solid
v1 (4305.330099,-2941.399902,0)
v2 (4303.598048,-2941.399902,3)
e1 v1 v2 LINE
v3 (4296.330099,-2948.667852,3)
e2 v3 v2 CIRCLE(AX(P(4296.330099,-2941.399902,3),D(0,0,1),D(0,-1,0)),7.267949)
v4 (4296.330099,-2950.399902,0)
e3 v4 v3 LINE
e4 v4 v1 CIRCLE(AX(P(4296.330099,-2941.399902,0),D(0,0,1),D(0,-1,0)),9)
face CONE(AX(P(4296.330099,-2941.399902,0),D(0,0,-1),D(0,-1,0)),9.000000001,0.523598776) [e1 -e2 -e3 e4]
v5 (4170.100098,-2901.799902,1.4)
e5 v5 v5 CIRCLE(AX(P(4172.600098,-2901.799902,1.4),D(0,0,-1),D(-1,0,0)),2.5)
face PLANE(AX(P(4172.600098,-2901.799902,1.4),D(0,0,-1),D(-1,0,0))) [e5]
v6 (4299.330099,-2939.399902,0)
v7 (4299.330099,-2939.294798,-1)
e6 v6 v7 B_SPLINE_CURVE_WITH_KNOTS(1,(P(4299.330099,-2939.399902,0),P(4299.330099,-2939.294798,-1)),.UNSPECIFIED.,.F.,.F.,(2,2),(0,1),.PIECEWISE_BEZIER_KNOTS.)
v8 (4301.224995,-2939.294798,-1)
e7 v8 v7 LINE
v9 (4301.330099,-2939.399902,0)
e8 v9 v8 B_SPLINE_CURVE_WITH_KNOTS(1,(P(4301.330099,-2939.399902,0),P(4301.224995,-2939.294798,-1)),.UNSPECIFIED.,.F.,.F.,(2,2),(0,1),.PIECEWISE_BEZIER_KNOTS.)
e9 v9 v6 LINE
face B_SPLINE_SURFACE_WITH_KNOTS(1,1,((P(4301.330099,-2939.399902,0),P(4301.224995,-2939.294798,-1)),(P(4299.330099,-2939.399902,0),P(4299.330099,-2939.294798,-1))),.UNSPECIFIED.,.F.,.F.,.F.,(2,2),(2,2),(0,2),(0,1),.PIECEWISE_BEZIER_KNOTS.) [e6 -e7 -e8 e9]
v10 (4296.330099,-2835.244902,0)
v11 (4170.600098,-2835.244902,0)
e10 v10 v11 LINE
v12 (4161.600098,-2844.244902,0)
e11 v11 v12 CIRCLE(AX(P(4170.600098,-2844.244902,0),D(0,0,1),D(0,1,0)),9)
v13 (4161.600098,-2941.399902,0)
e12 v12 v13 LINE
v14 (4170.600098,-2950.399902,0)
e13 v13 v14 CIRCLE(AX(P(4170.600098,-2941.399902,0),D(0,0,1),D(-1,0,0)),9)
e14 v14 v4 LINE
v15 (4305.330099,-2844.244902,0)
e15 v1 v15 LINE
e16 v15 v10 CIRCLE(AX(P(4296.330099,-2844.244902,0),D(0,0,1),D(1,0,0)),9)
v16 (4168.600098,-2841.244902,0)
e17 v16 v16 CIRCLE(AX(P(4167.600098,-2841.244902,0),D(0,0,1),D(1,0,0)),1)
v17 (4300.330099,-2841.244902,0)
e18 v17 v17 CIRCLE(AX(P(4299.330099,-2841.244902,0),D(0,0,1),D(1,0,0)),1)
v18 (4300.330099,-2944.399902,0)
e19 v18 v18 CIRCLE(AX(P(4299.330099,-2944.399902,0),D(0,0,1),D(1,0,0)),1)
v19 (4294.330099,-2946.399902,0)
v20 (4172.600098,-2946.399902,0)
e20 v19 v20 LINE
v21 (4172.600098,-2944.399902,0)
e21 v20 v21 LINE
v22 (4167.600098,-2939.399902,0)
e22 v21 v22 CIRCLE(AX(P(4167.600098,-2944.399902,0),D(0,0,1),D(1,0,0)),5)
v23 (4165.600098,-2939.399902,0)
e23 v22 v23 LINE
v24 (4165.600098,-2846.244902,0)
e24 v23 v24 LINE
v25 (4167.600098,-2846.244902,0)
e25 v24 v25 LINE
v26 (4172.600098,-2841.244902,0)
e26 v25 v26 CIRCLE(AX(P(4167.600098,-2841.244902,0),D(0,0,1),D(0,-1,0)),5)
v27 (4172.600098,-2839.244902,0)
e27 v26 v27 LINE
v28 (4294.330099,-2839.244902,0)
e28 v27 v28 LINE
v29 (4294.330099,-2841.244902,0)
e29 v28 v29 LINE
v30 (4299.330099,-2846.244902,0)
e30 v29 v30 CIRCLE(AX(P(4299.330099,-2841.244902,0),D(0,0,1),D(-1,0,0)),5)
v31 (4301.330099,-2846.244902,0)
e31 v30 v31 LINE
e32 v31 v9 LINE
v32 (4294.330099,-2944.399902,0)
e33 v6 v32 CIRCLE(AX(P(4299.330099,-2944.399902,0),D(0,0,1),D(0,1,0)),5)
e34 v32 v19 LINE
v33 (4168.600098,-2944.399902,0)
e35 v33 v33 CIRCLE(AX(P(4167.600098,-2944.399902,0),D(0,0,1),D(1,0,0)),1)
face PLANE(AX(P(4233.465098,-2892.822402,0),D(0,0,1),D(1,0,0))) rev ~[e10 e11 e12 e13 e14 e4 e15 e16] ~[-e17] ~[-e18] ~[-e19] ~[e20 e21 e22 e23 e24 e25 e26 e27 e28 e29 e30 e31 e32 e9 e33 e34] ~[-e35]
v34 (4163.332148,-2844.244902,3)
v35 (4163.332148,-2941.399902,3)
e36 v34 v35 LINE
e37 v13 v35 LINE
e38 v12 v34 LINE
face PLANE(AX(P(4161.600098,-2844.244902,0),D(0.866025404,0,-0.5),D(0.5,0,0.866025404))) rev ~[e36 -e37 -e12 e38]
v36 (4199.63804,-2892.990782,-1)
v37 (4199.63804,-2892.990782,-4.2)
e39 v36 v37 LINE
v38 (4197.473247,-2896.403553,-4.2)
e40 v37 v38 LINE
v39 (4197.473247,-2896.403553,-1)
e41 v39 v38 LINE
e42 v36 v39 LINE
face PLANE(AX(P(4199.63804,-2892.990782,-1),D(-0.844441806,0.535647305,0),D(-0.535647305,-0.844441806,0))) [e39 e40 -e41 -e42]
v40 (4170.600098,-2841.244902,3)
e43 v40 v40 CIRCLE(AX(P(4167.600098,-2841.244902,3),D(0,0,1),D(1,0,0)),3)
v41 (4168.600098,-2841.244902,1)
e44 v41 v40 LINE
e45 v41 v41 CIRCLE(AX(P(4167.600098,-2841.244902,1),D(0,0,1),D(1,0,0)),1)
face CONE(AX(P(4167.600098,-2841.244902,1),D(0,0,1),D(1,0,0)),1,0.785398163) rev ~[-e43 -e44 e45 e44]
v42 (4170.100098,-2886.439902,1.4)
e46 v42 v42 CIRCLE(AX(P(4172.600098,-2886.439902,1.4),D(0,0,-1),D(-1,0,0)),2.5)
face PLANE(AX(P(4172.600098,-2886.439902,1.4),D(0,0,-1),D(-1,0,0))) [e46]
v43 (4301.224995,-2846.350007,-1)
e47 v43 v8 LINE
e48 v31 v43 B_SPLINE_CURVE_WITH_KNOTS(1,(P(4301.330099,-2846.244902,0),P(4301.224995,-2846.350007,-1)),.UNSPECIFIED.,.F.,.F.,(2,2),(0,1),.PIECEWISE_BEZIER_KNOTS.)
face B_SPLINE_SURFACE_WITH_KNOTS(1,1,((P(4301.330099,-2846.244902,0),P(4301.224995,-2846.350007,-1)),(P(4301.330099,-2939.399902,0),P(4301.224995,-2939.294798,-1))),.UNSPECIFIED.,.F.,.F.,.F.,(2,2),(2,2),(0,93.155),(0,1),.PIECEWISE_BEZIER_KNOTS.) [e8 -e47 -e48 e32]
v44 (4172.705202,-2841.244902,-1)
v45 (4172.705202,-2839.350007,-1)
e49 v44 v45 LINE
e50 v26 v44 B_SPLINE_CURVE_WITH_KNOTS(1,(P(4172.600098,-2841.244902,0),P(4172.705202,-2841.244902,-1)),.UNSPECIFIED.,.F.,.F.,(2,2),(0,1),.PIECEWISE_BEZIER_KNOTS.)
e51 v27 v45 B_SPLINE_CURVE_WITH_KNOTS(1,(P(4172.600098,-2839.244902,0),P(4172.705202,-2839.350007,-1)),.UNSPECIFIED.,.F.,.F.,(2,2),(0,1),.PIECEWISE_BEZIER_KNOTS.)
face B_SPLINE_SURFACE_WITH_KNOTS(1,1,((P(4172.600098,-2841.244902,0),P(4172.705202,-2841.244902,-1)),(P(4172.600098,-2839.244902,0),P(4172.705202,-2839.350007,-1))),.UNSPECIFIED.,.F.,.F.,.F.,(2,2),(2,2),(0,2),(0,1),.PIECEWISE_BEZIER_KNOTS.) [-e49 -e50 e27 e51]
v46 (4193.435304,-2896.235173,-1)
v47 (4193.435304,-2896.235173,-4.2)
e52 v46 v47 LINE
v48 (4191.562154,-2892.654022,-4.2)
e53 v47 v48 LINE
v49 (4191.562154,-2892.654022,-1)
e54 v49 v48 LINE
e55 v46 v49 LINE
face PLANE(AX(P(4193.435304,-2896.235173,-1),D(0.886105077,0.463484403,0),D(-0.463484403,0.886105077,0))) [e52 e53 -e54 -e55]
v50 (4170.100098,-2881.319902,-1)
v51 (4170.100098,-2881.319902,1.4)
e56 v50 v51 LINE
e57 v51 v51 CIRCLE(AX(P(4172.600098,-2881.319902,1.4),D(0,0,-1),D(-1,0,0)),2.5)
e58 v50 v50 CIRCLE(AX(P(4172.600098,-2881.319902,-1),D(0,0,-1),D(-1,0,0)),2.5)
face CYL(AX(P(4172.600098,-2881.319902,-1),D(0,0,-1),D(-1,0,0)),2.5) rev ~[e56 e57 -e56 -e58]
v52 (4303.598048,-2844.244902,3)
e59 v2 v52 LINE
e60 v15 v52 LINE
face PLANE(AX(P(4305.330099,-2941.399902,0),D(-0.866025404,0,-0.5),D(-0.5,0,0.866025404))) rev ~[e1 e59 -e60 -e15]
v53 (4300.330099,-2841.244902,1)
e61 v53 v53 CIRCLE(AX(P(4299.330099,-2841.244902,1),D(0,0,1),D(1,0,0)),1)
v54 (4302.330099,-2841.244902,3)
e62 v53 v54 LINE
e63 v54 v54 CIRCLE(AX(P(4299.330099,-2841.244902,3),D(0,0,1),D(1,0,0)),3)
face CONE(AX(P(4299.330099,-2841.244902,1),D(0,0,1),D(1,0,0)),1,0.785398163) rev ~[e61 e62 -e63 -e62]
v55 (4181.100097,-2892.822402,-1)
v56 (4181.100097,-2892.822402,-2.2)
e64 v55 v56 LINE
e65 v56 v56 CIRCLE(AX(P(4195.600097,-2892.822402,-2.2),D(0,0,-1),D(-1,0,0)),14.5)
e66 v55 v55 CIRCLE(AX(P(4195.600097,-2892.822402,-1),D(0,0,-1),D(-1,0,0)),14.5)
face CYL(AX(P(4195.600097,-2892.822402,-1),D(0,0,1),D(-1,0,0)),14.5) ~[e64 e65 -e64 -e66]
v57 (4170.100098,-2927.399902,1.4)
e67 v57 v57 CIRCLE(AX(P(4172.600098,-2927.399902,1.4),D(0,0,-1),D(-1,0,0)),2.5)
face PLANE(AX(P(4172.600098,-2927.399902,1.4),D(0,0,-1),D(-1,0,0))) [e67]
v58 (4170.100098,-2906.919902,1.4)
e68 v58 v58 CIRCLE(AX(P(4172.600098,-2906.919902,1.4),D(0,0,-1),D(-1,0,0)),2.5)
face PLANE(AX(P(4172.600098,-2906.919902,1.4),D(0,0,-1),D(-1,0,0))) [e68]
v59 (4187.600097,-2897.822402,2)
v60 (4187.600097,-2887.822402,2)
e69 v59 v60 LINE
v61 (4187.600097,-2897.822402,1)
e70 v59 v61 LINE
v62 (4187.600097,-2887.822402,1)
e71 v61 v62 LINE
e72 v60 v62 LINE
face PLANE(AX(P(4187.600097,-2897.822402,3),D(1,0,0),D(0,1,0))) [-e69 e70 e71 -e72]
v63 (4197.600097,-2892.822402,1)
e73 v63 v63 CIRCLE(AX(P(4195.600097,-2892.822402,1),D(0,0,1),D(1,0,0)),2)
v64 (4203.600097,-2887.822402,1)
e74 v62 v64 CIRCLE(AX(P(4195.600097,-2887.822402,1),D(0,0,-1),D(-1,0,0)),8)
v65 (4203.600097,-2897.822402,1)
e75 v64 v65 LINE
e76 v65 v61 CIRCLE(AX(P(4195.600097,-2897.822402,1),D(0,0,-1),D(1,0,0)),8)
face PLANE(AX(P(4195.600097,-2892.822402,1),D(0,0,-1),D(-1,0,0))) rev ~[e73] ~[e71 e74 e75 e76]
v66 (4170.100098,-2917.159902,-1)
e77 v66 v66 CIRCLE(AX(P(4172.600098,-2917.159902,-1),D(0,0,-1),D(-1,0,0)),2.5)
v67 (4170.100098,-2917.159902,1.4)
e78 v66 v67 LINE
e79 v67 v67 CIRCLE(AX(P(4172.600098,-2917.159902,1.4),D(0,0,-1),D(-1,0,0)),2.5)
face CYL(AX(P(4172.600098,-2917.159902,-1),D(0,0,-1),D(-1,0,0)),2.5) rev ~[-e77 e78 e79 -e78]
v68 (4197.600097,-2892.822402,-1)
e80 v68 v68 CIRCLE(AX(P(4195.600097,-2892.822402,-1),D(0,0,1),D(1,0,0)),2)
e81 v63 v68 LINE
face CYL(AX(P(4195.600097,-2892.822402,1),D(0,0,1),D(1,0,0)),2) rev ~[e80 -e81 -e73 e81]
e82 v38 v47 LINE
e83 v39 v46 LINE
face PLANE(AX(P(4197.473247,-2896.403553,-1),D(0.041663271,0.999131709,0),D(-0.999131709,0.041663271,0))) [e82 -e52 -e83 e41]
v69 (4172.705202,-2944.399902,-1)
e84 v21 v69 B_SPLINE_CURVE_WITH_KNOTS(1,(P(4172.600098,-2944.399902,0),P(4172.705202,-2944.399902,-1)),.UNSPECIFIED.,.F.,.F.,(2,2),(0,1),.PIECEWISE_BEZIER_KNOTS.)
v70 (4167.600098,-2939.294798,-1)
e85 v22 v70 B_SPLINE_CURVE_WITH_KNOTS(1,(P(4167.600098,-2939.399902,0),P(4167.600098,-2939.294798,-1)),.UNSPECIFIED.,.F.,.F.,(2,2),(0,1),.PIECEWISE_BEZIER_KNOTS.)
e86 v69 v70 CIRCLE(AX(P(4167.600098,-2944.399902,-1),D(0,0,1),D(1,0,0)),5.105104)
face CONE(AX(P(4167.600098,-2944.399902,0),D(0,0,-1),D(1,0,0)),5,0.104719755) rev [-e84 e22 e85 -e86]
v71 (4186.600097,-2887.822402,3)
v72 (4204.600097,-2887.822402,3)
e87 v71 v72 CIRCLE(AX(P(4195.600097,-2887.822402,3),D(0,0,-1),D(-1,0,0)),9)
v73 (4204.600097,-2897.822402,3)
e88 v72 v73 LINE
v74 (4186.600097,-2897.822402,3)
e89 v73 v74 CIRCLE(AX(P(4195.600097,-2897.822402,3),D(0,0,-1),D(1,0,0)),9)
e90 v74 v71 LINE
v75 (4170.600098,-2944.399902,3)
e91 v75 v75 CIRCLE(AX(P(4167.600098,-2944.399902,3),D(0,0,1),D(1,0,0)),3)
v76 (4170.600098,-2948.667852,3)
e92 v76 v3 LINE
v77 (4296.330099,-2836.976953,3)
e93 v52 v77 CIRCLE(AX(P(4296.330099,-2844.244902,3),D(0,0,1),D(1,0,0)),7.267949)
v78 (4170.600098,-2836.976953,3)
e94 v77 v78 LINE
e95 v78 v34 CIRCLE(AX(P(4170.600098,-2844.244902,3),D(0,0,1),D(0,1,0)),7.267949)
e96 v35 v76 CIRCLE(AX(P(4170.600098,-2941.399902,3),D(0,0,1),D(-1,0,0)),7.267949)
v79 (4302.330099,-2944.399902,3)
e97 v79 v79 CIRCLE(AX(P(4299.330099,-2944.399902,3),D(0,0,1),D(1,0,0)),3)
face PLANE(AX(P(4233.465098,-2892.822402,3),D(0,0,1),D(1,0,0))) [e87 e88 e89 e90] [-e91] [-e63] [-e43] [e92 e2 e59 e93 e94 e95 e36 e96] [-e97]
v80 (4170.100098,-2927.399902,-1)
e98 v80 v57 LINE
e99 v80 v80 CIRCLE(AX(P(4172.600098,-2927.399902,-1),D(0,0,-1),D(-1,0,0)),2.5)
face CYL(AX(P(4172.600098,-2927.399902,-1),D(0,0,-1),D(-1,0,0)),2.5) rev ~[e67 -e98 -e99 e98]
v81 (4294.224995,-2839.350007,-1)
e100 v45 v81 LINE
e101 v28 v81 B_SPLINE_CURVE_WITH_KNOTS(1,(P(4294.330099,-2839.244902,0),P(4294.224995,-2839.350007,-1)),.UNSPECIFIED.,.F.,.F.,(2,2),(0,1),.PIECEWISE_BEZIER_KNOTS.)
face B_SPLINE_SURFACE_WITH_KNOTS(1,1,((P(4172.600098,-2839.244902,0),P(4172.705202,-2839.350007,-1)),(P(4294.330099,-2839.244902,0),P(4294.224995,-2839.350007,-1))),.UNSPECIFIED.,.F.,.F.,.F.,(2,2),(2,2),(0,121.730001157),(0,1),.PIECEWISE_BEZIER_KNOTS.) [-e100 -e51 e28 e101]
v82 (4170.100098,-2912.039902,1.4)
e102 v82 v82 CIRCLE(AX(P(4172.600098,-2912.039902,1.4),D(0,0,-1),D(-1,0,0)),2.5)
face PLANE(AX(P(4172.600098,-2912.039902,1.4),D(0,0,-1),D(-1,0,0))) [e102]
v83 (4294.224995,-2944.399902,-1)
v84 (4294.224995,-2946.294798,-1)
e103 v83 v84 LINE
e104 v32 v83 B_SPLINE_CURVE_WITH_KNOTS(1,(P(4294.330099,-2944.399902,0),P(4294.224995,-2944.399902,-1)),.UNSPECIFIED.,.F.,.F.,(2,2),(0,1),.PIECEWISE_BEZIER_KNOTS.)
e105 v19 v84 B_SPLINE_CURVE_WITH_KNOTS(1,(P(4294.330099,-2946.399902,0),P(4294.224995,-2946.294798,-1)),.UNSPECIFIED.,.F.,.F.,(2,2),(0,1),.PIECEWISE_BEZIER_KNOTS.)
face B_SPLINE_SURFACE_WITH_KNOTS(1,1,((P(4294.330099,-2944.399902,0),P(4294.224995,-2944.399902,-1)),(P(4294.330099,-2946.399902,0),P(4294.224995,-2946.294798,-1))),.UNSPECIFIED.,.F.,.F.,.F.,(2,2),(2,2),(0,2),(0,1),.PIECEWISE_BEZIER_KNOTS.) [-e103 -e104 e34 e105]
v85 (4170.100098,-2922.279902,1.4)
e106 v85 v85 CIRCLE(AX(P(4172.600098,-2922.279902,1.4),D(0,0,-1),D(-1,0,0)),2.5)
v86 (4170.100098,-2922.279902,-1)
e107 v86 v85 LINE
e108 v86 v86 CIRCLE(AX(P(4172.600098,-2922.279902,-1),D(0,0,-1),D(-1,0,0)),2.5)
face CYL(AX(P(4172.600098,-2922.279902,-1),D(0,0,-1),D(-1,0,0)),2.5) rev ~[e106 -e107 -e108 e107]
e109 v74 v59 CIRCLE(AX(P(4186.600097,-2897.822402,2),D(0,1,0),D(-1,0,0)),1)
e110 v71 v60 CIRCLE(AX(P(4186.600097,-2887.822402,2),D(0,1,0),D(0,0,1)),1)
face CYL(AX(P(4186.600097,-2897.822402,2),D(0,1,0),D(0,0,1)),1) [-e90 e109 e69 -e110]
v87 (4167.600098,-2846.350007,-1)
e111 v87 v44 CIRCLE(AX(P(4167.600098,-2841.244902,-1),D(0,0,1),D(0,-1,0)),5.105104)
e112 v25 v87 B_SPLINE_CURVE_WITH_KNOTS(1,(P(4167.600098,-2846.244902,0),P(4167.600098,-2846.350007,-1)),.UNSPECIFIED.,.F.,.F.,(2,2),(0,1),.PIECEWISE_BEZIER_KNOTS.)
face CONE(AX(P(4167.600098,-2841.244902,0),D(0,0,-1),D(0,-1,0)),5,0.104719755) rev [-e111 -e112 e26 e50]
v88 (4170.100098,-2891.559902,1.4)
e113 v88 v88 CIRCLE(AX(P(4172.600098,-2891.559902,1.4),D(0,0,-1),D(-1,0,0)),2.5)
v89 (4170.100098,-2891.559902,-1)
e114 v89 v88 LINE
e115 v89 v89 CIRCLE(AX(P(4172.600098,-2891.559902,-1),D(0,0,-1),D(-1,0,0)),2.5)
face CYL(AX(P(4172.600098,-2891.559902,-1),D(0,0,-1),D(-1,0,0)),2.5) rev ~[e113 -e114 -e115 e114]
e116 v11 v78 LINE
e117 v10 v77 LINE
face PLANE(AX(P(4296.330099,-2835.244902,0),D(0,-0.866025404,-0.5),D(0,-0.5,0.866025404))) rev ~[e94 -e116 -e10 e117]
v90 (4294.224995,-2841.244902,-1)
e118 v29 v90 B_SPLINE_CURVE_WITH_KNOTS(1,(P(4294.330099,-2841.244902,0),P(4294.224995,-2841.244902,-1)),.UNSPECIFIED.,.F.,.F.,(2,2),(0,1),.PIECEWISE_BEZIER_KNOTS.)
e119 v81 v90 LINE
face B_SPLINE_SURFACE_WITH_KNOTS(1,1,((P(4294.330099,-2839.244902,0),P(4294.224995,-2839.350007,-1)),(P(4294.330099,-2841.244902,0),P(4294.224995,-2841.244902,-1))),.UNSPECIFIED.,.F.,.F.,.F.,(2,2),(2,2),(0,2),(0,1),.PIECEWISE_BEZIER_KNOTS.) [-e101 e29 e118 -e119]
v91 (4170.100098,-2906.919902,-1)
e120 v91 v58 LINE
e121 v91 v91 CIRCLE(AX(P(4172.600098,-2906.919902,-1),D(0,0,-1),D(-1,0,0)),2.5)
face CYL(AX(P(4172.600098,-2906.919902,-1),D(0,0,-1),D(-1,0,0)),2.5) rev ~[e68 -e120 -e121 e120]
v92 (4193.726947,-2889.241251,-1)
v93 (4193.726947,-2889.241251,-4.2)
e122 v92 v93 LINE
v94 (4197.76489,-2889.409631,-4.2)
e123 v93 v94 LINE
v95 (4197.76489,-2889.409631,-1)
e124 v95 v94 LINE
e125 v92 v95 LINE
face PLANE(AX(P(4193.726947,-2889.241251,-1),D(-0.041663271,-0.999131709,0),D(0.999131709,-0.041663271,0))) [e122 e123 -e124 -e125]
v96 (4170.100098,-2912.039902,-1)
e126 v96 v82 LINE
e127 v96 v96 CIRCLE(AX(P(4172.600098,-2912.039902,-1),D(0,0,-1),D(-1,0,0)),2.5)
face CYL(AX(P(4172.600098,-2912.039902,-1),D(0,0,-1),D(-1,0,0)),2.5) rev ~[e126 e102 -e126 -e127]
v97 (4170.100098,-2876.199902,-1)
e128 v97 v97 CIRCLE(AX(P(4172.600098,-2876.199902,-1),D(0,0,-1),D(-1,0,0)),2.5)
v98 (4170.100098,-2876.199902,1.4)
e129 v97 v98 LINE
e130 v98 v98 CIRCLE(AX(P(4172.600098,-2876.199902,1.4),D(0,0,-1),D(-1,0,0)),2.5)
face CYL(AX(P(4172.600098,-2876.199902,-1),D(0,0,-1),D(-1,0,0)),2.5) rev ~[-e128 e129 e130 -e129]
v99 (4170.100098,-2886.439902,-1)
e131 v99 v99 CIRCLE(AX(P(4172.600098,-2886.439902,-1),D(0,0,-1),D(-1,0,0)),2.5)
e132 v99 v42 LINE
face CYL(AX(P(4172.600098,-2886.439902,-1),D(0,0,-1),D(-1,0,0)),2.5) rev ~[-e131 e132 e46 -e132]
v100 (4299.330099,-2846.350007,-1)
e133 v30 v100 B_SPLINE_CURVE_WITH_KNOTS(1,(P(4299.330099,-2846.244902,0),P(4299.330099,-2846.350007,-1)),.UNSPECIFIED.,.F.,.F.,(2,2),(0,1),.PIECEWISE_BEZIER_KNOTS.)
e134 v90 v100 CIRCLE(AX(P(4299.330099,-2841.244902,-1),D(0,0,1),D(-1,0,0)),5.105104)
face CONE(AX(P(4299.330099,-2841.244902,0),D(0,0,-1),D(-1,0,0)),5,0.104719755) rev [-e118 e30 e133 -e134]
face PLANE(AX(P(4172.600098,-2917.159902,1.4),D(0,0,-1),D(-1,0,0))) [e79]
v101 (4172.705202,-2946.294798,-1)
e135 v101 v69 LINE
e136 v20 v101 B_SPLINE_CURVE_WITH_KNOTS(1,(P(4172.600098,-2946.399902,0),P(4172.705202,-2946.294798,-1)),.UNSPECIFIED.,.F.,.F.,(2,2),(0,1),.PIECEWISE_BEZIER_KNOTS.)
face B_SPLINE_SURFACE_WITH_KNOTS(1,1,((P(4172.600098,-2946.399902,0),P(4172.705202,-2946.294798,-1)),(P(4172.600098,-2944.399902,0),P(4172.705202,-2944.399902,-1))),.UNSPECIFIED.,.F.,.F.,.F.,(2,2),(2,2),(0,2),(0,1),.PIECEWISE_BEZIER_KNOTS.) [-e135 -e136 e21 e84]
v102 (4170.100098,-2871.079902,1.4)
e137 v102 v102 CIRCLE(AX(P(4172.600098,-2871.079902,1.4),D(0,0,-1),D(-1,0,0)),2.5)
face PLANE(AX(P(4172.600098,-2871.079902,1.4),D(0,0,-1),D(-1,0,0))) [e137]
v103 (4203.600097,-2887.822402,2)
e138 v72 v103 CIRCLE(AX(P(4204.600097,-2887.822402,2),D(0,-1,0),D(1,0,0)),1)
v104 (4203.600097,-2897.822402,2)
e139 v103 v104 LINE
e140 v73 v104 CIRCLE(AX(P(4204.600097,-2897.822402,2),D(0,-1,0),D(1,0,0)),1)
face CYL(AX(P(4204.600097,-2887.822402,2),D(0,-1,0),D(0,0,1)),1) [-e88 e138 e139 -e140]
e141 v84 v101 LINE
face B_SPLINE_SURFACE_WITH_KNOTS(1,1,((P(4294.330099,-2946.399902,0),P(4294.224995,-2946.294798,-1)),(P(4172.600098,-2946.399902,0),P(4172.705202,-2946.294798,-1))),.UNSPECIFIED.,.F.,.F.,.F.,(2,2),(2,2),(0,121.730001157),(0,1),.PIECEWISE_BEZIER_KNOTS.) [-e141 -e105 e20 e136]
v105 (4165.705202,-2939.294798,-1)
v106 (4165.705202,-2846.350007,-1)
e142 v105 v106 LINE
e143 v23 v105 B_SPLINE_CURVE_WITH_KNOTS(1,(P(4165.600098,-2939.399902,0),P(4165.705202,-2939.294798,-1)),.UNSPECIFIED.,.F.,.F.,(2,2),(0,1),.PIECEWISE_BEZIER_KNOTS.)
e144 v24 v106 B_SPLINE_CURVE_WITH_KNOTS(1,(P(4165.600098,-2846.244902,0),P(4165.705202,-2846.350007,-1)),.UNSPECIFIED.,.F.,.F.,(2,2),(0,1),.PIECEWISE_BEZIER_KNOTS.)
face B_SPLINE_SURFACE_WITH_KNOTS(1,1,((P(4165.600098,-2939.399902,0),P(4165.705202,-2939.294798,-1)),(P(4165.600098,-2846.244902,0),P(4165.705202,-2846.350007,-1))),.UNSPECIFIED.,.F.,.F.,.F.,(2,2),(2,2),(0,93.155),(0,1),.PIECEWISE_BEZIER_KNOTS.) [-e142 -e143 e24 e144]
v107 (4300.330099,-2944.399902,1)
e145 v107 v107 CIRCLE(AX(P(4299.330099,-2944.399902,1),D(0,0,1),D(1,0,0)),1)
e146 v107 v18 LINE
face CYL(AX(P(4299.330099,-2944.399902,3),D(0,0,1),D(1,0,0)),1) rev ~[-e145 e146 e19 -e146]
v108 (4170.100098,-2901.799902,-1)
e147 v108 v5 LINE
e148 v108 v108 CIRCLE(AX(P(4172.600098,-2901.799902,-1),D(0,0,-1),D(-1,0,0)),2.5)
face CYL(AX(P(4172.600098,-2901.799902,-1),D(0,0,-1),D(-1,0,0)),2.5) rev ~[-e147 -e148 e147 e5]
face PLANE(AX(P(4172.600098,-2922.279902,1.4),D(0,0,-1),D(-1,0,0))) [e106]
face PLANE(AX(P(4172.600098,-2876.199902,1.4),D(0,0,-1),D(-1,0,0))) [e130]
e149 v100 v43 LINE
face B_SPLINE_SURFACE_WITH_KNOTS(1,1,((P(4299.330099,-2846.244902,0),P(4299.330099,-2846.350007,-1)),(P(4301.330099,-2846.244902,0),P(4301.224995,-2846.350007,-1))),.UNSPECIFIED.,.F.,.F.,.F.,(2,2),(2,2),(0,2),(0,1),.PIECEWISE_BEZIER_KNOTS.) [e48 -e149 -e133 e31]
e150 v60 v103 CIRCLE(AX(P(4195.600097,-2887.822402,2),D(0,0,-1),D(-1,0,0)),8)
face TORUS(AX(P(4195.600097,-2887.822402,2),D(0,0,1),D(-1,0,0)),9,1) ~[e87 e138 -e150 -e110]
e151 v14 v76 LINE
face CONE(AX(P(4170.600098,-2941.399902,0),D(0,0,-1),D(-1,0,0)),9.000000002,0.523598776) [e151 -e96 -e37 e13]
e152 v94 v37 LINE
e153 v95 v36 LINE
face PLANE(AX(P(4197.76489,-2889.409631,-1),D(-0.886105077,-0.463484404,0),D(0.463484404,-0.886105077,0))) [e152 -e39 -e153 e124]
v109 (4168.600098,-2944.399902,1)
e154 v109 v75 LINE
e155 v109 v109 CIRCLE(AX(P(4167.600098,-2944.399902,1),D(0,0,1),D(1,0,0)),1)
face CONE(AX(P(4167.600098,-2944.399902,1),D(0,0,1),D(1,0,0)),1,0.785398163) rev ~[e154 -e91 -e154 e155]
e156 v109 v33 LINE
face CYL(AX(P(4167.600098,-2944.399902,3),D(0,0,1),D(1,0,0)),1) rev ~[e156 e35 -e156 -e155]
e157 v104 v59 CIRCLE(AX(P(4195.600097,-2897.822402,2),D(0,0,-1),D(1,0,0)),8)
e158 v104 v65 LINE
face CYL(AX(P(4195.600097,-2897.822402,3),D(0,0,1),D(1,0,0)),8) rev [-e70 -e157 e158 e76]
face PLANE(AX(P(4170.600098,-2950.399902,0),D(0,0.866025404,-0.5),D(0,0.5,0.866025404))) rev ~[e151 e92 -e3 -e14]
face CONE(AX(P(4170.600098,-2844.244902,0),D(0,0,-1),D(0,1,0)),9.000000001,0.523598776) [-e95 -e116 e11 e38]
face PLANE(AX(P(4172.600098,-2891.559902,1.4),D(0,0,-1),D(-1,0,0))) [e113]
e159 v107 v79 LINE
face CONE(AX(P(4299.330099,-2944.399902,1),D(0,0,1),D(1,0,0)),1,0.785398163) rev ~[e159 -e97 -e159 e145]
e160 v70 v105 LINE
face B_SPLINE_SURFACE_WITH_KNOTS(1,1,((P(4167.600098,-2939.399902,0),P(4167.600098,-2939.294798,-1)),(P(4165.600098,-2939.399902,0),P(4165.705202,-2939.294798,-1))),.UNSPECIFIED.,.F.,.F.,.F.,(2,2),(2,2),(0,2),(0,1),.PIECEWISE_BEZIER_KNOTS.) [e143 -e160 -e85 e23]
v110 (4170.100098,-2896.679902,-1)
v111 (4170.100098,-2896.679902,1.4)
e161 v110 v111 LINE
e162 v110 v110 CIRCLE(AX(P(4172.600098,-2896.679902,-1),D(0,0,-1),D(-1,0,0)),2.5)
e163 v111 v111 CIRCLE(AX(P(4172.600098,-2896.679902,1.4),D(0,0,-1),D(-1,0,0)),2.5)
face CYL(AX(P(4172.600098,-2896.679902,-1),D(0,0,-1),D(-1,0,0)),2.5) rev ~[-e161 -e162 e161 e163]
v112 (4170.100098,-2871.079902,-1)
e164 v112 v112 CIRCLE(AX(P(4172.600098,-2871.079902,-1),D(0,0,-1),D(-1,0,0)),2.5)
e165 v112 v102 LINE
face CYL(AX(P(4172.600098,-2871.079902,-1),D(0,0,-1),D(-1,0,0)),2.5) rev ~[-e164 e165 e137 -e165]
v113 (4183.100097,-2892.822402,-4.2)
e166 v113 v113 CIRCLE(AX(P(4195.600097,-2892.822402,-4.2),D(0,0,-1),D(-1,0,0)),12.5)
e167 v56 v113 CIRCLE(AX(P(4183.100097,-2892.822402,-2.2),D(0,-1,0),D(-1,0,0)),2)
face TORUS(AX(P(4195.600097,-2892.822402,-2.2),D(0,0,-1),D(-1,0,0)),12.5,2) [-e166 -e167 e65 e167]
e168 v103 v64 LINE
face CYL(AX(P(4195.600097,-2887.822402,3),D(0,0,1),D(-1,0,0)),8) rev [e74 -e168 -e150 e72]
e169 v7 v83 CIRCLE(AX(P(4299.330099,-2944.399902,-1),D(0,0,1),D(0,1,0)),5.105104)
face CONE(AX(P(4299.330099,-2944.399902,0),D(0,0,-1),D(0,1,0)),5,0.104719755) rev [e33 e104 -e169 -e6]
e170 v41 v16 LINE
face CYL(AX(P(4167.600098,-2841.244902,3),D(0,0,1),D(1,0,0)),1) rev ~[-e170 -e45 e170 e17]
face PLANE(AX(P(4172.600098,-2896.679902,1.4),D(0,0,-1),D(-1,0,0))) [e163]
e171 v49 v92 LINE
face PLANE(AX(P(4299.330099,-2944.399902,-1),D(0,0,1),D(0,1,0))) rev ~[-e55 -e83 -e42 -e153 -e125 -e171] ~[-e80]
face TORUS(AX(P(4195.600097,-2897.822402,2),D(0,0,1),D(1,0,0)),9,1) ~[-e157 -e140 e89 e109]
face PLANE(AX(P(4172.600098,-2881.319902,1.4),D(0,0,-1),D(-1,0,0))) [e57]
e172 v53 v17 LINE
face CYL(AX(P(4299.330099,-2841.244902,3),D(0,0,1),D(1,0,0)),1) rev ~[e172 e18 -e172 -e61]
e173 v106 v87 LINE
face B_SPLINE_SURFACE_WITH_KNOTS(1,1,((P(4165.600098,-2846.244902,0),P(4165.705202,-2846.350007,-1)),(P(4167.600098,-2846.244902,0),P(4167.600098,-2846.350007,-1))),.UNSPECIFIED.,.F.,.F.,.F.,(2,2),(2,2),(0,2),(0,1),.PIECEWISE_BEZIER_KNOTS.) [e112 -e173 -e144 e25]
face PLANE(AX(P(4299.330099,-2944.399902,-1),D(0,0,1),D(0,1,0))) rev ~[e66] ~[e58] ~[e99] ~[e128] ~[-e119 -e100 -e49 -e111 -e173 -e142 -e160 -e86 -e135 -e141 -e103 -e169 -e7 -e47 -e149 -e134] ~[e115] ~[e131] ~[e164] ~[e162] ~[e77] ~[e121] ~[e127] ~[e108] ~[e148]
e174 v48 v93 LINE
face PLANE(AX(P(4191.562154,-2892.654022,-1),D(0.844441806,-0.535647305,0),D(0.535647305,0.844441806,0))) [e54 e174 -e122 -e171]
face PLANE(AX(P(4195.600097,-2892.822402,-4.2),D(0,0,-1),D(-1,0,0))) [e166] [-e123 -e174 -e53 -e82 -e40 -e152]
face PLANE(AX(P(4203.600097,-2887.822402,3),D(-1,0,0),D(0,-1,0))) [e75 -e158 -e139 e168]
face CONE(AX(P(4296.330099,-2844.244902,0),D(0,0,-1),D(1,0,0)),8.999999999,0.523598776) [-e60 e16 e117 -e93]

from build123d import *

# Parameters (mm, degrees)
EXTRUDE_1_DEPTH     = 3
EXTRUDE_1_TAPER     = 30
SKETCH_10_R         = 1
CUT_EXTRUDE_1_DEPTH = 10
CHAMFER_1_SIZE      = 2
EXTRUDE_2_DEPTH     = 1
EXTRUDE_2_TAPER     = 6
SKETCH_17_R         = 2.5
CUT_EXTRUDE_4_DEPTH = 2.4
CUT_EXTRUDE_2_DEPTH = 2
FILLET_1_R          = 1
SKETCH_13_R         = 2
CUT_EXTRUDE_3_DEPTH = 5220.265354769
SKETCH_14_R         = 14.5
EXTRUDE_3_DEPTH     = 3.2
FILLET_2_R          = 2


with BuildPart() as part:
    # Эскиз2 → Бобышка-Вытянуть1 (new body)
    with BuildSketch(Plane.XY):
        with BuildLine():
            ThreePointArc((4305.330098813, -2844.244902344), (4302.694059844, -2837.880941313), (4296.330098813, -2835.244902344))
            Line((4296.330098813, -2835.244902344), (4170.600097656, -2835.244902344))
            ThreePointArc((4170.600097656, -2835.244902344), (4164.236136626, -2837.880941313), (4161.600097656, -2844.244902344))
            Line((4161.600097656, -2844.244902344), (4161.600097656, -2941.399902344))
            ThreePointArc((4161.600097656, -2941.399902344), (4164.236136626, -2947.763863374), (4170.600097656, -2950.399902344))
            Line((4170.600097656, -2950.399902344), (4296.330098813, -2950.399902344))
            ThreePointArc((4296.330098813, -2950.399902344), (4302.694059844, -2947.763863374), (4305.330098813, -2941.399902344))
            Line((4305.330098813, -2941.399902344), (4305.330098813, -2844.244902344))
        make_face()
    extrude(amount=EXTRUDE_1_DEPTH, taper=EXTRUDE_1_TAPER)

    # Эскиз10 → Вырез-Вытянуть1 (cut)
    with BuildSketch(Plane.XY.offset(3)):
        with Locations((4167.600097656, -2841.244902344)):
            Circle(SKETCH_10_R)
        with Locations((4299.330098813, -2841.244902344)):
            Circle(SKETCH_10_R)
        with Locations((4167.600097656, -2944.399902344)):
            Circle(SKETCH_10_R)
        with Locations((4299.330098813, -2944.399902344)):
            Circle(SKETCH_10_R)
    extrude(amount=-CUT_EXTRUDE_1_DEPTH, mode=Mode.SUBTRACT)

    # Фаска1
    chamfer_1_edges = [part.edges().sort_by_distance(p)[0] for p in [
        (4298.330098813, -2841.244902344, 3),
        (4166.600097656, -2944.399902344, 3),
        (4298.330098813, -2944.399902344, 3),
        (4166.600097656, -2841.244902344, 3),
    ]]
    chamfer(chamfer_1_edges, length=CHAMFER_1_SIZE)

    # Эскиз11 → Бобышка-Вытянуть2 (add)
    with BuildSketch(Plane(origin=(0, 0, 0), x_dir=(-1, 0, 0), z_dir=(0, 0, -1))):
        with BuildLine():
            Line((-4301.330098813, -2846.244902344), (-4301.330098813, -2939.399902344))
            Line((-4301.330098813, -2939.399902344), (-4299.330098813, -2939.399902344))
            ThreePointArc((-4299.330098813, -2939.399902344), (-4295.794564907, -2940.864368438), (-4294.330098813, -2944.399902344))
            Line((-4294.330098813, -2944.399902344), (-4294.330098813, -2946.399902344))
            Line((-4294.330098813, -2946.399902344), (-4172.600097656, -2946.399902344))
            Line((-4172.600097656, -2946.399902344), (-4172.600097656, -2944.399902344))
            ThreePointArc((-4172.600097656, -2944.399902344), (-4171.135631562, -2940.864368438), (-4167.600097656, -2939.399902344))
            Line((-4167.600097656, -2939.399902344), (-4165.600097656, -2939.399902344))
            Line((-4165.600097656, -2939.399902344), (-4165.600097656, -2846.244902344))
            Line((-4165.600097656, -2846.244902344), (-4167.600097656, -2846.244902344))
            ThreePointArc((-4167.600097656, -2846.244902344), (-4171.135631562, -2844.78043625), (-4172.600097656, -2841.244902344))
            Line((-4172.600097656, -2841.244902344), (-4172.600097656, -2839.244902344))
            Line((-4172.600097656, -2839.244902344), (-4294.330098813, -2839.244902344))
            Line((-4294.330098813, -2839.244902344), (-4294.330098813, -2841.244902344))
            ThreePointArc((-4294.330098813, -2841.244902344), (-4295.794564907, -2844.78043625), (-4299.330098813, -2846.244902344))
            Line((-4299.330098813, -2846.244902344), (-4301.330098813, -2846.244902344))
        make_face()
    extrude(amount=EXTRUDE_2_DEPTH, taper=EXTRUDE_2_TAPER)

    # Эскиз17 → Вырез-Вытянуть4 (cut)
    with BuildSketch(Plane(origin=(0, 0, -1), x_dir=(-1, 0, 0), z_dir=(0, 0, -1))):
        with Locations((-4172.600097656, -2871.079902344)):
            Circle(SKETCH_17_R)
        with Locations((-4172.600097656, -2876.199902344)):
            Circle(SKETCH_17_R)
        with Locations((-4172.600097656, -2881.319902344)):
            Circle(SKETCH_17_R)
        with Locations((-4172.600097656, -2886.439902344)):
            Circle(SKETCH_17_R)
        with Locations((-4172.600097656, -2891.559902344)):
            Circle(SKETCH_17_R)
        with Locations((-4172.600097656, -2896.679902344)):
            Circle(SKETCH_17_R)
        with Locations((-4172.600097656, -2901.799902344)):
            Circle(SKETCH_17_R)
        with Locations((-4172.600097656, -2906.919902344)):
            Circle(SKETCH_17_R)
        with Locations((-4172.600097656, -2912.039902344)):
            Circle(SKETCH_17_R)
        with Locations((-4172.600097656, -2917.159902344)):
            Circle(SKETCH_17_R)
        with Locations((-4172.600097656, -2922.279902344)):
            Circle(SKETCH_17_R)
        with Locations((-4172.600097656, -2927.399902344)):
            Circle(SKETCH_17_R)
    extrude(amount=-CUT_EXTRUDE_4_DEPTH, mode=Mode.SUBTRACT)

    # Эскиз12 → Вырез-Вытянуть2 (cut)
    with BuildSketch(Plane.XY.offset(3)):
        with BuildLine():
            Line((4187.60009722, -2897.822402344), (4187.60009722, -2887.822402344))
            ThreePointArc((4187.60009722, -2887.822402344), (4195.60009722, -2879.822402344), (4203.60009722, -2887.822402344))
            Line((4203.60009722, -2887.822402344), (4203.60009722, -2897.822402344))
            ThreePointArc((4203.60009722, -2897.822402344), (4195.60009722, -2905.822402344), (4187.60009722, -2897.822402344))
        make_face()
    extrude(amount=-CUT_EXTRUDE_2_DEPTH, mode=Mode.SUBTRACT)

    # Скругление1
    fillet_1_edges = [part.edges().sort_by_distance(p)[0] for p in [
        (4195.60009722, -2905.822402344, 3),
        (4203.60009722, -2892.822402344, 3),
        (4195.60009722, -2879.822402344, 3),
        (4187.60009722, -2892.822402344, 3),
    ]]
    fillet(fillet_1_edges, radius=FILLET_1_R)

    # Эскиз13 → Вырез-Вытянуть3 (cut, through all)
    with BuildSketch(Plane.XY.offset(1)):
        with Locations((4195.60009722, -2892.822402344)):
            Circle(SKETCH_13_R)
    extrude(amount=-CUT_EXTRUDE_3_DEPTH, mode=Mode.SUBTRACT)

    # Эскиз14 → Бобышка-Вытянуть3 (add)
    with BuildSketch(Plane(origin=(0, 0, -1), x_dir=(-1, 0, 0), z_dir=(0, 0, -1))):
        with Locations((-4195.60009722, -2892.822402344)):
            Circle(SKETCH_14_R)
        Polygon((-4193.726947304, -2889.24125131), (-4197.764890032, -2889.409631415), (-4199.638039948, -2892.990782448), (-4197.473247136, -2896.403553377), (-4193.435304408, -2896.235173273), (-4191.562154492, -2892.654022239), align=None, mode=Mode.SUBTRACT)
    extrude(amount=EXTRUDE_3_DEPTH)

    # Скругление2
    fillet_2_edges = [part.edges().sort_by_distance(p)[0] for p in [
        (4210.10009722, -2892.822402344, -4.2),
    ]]
    fillet(fillet_2_edges, radius=FILLET_2_R)


solid = part.part
